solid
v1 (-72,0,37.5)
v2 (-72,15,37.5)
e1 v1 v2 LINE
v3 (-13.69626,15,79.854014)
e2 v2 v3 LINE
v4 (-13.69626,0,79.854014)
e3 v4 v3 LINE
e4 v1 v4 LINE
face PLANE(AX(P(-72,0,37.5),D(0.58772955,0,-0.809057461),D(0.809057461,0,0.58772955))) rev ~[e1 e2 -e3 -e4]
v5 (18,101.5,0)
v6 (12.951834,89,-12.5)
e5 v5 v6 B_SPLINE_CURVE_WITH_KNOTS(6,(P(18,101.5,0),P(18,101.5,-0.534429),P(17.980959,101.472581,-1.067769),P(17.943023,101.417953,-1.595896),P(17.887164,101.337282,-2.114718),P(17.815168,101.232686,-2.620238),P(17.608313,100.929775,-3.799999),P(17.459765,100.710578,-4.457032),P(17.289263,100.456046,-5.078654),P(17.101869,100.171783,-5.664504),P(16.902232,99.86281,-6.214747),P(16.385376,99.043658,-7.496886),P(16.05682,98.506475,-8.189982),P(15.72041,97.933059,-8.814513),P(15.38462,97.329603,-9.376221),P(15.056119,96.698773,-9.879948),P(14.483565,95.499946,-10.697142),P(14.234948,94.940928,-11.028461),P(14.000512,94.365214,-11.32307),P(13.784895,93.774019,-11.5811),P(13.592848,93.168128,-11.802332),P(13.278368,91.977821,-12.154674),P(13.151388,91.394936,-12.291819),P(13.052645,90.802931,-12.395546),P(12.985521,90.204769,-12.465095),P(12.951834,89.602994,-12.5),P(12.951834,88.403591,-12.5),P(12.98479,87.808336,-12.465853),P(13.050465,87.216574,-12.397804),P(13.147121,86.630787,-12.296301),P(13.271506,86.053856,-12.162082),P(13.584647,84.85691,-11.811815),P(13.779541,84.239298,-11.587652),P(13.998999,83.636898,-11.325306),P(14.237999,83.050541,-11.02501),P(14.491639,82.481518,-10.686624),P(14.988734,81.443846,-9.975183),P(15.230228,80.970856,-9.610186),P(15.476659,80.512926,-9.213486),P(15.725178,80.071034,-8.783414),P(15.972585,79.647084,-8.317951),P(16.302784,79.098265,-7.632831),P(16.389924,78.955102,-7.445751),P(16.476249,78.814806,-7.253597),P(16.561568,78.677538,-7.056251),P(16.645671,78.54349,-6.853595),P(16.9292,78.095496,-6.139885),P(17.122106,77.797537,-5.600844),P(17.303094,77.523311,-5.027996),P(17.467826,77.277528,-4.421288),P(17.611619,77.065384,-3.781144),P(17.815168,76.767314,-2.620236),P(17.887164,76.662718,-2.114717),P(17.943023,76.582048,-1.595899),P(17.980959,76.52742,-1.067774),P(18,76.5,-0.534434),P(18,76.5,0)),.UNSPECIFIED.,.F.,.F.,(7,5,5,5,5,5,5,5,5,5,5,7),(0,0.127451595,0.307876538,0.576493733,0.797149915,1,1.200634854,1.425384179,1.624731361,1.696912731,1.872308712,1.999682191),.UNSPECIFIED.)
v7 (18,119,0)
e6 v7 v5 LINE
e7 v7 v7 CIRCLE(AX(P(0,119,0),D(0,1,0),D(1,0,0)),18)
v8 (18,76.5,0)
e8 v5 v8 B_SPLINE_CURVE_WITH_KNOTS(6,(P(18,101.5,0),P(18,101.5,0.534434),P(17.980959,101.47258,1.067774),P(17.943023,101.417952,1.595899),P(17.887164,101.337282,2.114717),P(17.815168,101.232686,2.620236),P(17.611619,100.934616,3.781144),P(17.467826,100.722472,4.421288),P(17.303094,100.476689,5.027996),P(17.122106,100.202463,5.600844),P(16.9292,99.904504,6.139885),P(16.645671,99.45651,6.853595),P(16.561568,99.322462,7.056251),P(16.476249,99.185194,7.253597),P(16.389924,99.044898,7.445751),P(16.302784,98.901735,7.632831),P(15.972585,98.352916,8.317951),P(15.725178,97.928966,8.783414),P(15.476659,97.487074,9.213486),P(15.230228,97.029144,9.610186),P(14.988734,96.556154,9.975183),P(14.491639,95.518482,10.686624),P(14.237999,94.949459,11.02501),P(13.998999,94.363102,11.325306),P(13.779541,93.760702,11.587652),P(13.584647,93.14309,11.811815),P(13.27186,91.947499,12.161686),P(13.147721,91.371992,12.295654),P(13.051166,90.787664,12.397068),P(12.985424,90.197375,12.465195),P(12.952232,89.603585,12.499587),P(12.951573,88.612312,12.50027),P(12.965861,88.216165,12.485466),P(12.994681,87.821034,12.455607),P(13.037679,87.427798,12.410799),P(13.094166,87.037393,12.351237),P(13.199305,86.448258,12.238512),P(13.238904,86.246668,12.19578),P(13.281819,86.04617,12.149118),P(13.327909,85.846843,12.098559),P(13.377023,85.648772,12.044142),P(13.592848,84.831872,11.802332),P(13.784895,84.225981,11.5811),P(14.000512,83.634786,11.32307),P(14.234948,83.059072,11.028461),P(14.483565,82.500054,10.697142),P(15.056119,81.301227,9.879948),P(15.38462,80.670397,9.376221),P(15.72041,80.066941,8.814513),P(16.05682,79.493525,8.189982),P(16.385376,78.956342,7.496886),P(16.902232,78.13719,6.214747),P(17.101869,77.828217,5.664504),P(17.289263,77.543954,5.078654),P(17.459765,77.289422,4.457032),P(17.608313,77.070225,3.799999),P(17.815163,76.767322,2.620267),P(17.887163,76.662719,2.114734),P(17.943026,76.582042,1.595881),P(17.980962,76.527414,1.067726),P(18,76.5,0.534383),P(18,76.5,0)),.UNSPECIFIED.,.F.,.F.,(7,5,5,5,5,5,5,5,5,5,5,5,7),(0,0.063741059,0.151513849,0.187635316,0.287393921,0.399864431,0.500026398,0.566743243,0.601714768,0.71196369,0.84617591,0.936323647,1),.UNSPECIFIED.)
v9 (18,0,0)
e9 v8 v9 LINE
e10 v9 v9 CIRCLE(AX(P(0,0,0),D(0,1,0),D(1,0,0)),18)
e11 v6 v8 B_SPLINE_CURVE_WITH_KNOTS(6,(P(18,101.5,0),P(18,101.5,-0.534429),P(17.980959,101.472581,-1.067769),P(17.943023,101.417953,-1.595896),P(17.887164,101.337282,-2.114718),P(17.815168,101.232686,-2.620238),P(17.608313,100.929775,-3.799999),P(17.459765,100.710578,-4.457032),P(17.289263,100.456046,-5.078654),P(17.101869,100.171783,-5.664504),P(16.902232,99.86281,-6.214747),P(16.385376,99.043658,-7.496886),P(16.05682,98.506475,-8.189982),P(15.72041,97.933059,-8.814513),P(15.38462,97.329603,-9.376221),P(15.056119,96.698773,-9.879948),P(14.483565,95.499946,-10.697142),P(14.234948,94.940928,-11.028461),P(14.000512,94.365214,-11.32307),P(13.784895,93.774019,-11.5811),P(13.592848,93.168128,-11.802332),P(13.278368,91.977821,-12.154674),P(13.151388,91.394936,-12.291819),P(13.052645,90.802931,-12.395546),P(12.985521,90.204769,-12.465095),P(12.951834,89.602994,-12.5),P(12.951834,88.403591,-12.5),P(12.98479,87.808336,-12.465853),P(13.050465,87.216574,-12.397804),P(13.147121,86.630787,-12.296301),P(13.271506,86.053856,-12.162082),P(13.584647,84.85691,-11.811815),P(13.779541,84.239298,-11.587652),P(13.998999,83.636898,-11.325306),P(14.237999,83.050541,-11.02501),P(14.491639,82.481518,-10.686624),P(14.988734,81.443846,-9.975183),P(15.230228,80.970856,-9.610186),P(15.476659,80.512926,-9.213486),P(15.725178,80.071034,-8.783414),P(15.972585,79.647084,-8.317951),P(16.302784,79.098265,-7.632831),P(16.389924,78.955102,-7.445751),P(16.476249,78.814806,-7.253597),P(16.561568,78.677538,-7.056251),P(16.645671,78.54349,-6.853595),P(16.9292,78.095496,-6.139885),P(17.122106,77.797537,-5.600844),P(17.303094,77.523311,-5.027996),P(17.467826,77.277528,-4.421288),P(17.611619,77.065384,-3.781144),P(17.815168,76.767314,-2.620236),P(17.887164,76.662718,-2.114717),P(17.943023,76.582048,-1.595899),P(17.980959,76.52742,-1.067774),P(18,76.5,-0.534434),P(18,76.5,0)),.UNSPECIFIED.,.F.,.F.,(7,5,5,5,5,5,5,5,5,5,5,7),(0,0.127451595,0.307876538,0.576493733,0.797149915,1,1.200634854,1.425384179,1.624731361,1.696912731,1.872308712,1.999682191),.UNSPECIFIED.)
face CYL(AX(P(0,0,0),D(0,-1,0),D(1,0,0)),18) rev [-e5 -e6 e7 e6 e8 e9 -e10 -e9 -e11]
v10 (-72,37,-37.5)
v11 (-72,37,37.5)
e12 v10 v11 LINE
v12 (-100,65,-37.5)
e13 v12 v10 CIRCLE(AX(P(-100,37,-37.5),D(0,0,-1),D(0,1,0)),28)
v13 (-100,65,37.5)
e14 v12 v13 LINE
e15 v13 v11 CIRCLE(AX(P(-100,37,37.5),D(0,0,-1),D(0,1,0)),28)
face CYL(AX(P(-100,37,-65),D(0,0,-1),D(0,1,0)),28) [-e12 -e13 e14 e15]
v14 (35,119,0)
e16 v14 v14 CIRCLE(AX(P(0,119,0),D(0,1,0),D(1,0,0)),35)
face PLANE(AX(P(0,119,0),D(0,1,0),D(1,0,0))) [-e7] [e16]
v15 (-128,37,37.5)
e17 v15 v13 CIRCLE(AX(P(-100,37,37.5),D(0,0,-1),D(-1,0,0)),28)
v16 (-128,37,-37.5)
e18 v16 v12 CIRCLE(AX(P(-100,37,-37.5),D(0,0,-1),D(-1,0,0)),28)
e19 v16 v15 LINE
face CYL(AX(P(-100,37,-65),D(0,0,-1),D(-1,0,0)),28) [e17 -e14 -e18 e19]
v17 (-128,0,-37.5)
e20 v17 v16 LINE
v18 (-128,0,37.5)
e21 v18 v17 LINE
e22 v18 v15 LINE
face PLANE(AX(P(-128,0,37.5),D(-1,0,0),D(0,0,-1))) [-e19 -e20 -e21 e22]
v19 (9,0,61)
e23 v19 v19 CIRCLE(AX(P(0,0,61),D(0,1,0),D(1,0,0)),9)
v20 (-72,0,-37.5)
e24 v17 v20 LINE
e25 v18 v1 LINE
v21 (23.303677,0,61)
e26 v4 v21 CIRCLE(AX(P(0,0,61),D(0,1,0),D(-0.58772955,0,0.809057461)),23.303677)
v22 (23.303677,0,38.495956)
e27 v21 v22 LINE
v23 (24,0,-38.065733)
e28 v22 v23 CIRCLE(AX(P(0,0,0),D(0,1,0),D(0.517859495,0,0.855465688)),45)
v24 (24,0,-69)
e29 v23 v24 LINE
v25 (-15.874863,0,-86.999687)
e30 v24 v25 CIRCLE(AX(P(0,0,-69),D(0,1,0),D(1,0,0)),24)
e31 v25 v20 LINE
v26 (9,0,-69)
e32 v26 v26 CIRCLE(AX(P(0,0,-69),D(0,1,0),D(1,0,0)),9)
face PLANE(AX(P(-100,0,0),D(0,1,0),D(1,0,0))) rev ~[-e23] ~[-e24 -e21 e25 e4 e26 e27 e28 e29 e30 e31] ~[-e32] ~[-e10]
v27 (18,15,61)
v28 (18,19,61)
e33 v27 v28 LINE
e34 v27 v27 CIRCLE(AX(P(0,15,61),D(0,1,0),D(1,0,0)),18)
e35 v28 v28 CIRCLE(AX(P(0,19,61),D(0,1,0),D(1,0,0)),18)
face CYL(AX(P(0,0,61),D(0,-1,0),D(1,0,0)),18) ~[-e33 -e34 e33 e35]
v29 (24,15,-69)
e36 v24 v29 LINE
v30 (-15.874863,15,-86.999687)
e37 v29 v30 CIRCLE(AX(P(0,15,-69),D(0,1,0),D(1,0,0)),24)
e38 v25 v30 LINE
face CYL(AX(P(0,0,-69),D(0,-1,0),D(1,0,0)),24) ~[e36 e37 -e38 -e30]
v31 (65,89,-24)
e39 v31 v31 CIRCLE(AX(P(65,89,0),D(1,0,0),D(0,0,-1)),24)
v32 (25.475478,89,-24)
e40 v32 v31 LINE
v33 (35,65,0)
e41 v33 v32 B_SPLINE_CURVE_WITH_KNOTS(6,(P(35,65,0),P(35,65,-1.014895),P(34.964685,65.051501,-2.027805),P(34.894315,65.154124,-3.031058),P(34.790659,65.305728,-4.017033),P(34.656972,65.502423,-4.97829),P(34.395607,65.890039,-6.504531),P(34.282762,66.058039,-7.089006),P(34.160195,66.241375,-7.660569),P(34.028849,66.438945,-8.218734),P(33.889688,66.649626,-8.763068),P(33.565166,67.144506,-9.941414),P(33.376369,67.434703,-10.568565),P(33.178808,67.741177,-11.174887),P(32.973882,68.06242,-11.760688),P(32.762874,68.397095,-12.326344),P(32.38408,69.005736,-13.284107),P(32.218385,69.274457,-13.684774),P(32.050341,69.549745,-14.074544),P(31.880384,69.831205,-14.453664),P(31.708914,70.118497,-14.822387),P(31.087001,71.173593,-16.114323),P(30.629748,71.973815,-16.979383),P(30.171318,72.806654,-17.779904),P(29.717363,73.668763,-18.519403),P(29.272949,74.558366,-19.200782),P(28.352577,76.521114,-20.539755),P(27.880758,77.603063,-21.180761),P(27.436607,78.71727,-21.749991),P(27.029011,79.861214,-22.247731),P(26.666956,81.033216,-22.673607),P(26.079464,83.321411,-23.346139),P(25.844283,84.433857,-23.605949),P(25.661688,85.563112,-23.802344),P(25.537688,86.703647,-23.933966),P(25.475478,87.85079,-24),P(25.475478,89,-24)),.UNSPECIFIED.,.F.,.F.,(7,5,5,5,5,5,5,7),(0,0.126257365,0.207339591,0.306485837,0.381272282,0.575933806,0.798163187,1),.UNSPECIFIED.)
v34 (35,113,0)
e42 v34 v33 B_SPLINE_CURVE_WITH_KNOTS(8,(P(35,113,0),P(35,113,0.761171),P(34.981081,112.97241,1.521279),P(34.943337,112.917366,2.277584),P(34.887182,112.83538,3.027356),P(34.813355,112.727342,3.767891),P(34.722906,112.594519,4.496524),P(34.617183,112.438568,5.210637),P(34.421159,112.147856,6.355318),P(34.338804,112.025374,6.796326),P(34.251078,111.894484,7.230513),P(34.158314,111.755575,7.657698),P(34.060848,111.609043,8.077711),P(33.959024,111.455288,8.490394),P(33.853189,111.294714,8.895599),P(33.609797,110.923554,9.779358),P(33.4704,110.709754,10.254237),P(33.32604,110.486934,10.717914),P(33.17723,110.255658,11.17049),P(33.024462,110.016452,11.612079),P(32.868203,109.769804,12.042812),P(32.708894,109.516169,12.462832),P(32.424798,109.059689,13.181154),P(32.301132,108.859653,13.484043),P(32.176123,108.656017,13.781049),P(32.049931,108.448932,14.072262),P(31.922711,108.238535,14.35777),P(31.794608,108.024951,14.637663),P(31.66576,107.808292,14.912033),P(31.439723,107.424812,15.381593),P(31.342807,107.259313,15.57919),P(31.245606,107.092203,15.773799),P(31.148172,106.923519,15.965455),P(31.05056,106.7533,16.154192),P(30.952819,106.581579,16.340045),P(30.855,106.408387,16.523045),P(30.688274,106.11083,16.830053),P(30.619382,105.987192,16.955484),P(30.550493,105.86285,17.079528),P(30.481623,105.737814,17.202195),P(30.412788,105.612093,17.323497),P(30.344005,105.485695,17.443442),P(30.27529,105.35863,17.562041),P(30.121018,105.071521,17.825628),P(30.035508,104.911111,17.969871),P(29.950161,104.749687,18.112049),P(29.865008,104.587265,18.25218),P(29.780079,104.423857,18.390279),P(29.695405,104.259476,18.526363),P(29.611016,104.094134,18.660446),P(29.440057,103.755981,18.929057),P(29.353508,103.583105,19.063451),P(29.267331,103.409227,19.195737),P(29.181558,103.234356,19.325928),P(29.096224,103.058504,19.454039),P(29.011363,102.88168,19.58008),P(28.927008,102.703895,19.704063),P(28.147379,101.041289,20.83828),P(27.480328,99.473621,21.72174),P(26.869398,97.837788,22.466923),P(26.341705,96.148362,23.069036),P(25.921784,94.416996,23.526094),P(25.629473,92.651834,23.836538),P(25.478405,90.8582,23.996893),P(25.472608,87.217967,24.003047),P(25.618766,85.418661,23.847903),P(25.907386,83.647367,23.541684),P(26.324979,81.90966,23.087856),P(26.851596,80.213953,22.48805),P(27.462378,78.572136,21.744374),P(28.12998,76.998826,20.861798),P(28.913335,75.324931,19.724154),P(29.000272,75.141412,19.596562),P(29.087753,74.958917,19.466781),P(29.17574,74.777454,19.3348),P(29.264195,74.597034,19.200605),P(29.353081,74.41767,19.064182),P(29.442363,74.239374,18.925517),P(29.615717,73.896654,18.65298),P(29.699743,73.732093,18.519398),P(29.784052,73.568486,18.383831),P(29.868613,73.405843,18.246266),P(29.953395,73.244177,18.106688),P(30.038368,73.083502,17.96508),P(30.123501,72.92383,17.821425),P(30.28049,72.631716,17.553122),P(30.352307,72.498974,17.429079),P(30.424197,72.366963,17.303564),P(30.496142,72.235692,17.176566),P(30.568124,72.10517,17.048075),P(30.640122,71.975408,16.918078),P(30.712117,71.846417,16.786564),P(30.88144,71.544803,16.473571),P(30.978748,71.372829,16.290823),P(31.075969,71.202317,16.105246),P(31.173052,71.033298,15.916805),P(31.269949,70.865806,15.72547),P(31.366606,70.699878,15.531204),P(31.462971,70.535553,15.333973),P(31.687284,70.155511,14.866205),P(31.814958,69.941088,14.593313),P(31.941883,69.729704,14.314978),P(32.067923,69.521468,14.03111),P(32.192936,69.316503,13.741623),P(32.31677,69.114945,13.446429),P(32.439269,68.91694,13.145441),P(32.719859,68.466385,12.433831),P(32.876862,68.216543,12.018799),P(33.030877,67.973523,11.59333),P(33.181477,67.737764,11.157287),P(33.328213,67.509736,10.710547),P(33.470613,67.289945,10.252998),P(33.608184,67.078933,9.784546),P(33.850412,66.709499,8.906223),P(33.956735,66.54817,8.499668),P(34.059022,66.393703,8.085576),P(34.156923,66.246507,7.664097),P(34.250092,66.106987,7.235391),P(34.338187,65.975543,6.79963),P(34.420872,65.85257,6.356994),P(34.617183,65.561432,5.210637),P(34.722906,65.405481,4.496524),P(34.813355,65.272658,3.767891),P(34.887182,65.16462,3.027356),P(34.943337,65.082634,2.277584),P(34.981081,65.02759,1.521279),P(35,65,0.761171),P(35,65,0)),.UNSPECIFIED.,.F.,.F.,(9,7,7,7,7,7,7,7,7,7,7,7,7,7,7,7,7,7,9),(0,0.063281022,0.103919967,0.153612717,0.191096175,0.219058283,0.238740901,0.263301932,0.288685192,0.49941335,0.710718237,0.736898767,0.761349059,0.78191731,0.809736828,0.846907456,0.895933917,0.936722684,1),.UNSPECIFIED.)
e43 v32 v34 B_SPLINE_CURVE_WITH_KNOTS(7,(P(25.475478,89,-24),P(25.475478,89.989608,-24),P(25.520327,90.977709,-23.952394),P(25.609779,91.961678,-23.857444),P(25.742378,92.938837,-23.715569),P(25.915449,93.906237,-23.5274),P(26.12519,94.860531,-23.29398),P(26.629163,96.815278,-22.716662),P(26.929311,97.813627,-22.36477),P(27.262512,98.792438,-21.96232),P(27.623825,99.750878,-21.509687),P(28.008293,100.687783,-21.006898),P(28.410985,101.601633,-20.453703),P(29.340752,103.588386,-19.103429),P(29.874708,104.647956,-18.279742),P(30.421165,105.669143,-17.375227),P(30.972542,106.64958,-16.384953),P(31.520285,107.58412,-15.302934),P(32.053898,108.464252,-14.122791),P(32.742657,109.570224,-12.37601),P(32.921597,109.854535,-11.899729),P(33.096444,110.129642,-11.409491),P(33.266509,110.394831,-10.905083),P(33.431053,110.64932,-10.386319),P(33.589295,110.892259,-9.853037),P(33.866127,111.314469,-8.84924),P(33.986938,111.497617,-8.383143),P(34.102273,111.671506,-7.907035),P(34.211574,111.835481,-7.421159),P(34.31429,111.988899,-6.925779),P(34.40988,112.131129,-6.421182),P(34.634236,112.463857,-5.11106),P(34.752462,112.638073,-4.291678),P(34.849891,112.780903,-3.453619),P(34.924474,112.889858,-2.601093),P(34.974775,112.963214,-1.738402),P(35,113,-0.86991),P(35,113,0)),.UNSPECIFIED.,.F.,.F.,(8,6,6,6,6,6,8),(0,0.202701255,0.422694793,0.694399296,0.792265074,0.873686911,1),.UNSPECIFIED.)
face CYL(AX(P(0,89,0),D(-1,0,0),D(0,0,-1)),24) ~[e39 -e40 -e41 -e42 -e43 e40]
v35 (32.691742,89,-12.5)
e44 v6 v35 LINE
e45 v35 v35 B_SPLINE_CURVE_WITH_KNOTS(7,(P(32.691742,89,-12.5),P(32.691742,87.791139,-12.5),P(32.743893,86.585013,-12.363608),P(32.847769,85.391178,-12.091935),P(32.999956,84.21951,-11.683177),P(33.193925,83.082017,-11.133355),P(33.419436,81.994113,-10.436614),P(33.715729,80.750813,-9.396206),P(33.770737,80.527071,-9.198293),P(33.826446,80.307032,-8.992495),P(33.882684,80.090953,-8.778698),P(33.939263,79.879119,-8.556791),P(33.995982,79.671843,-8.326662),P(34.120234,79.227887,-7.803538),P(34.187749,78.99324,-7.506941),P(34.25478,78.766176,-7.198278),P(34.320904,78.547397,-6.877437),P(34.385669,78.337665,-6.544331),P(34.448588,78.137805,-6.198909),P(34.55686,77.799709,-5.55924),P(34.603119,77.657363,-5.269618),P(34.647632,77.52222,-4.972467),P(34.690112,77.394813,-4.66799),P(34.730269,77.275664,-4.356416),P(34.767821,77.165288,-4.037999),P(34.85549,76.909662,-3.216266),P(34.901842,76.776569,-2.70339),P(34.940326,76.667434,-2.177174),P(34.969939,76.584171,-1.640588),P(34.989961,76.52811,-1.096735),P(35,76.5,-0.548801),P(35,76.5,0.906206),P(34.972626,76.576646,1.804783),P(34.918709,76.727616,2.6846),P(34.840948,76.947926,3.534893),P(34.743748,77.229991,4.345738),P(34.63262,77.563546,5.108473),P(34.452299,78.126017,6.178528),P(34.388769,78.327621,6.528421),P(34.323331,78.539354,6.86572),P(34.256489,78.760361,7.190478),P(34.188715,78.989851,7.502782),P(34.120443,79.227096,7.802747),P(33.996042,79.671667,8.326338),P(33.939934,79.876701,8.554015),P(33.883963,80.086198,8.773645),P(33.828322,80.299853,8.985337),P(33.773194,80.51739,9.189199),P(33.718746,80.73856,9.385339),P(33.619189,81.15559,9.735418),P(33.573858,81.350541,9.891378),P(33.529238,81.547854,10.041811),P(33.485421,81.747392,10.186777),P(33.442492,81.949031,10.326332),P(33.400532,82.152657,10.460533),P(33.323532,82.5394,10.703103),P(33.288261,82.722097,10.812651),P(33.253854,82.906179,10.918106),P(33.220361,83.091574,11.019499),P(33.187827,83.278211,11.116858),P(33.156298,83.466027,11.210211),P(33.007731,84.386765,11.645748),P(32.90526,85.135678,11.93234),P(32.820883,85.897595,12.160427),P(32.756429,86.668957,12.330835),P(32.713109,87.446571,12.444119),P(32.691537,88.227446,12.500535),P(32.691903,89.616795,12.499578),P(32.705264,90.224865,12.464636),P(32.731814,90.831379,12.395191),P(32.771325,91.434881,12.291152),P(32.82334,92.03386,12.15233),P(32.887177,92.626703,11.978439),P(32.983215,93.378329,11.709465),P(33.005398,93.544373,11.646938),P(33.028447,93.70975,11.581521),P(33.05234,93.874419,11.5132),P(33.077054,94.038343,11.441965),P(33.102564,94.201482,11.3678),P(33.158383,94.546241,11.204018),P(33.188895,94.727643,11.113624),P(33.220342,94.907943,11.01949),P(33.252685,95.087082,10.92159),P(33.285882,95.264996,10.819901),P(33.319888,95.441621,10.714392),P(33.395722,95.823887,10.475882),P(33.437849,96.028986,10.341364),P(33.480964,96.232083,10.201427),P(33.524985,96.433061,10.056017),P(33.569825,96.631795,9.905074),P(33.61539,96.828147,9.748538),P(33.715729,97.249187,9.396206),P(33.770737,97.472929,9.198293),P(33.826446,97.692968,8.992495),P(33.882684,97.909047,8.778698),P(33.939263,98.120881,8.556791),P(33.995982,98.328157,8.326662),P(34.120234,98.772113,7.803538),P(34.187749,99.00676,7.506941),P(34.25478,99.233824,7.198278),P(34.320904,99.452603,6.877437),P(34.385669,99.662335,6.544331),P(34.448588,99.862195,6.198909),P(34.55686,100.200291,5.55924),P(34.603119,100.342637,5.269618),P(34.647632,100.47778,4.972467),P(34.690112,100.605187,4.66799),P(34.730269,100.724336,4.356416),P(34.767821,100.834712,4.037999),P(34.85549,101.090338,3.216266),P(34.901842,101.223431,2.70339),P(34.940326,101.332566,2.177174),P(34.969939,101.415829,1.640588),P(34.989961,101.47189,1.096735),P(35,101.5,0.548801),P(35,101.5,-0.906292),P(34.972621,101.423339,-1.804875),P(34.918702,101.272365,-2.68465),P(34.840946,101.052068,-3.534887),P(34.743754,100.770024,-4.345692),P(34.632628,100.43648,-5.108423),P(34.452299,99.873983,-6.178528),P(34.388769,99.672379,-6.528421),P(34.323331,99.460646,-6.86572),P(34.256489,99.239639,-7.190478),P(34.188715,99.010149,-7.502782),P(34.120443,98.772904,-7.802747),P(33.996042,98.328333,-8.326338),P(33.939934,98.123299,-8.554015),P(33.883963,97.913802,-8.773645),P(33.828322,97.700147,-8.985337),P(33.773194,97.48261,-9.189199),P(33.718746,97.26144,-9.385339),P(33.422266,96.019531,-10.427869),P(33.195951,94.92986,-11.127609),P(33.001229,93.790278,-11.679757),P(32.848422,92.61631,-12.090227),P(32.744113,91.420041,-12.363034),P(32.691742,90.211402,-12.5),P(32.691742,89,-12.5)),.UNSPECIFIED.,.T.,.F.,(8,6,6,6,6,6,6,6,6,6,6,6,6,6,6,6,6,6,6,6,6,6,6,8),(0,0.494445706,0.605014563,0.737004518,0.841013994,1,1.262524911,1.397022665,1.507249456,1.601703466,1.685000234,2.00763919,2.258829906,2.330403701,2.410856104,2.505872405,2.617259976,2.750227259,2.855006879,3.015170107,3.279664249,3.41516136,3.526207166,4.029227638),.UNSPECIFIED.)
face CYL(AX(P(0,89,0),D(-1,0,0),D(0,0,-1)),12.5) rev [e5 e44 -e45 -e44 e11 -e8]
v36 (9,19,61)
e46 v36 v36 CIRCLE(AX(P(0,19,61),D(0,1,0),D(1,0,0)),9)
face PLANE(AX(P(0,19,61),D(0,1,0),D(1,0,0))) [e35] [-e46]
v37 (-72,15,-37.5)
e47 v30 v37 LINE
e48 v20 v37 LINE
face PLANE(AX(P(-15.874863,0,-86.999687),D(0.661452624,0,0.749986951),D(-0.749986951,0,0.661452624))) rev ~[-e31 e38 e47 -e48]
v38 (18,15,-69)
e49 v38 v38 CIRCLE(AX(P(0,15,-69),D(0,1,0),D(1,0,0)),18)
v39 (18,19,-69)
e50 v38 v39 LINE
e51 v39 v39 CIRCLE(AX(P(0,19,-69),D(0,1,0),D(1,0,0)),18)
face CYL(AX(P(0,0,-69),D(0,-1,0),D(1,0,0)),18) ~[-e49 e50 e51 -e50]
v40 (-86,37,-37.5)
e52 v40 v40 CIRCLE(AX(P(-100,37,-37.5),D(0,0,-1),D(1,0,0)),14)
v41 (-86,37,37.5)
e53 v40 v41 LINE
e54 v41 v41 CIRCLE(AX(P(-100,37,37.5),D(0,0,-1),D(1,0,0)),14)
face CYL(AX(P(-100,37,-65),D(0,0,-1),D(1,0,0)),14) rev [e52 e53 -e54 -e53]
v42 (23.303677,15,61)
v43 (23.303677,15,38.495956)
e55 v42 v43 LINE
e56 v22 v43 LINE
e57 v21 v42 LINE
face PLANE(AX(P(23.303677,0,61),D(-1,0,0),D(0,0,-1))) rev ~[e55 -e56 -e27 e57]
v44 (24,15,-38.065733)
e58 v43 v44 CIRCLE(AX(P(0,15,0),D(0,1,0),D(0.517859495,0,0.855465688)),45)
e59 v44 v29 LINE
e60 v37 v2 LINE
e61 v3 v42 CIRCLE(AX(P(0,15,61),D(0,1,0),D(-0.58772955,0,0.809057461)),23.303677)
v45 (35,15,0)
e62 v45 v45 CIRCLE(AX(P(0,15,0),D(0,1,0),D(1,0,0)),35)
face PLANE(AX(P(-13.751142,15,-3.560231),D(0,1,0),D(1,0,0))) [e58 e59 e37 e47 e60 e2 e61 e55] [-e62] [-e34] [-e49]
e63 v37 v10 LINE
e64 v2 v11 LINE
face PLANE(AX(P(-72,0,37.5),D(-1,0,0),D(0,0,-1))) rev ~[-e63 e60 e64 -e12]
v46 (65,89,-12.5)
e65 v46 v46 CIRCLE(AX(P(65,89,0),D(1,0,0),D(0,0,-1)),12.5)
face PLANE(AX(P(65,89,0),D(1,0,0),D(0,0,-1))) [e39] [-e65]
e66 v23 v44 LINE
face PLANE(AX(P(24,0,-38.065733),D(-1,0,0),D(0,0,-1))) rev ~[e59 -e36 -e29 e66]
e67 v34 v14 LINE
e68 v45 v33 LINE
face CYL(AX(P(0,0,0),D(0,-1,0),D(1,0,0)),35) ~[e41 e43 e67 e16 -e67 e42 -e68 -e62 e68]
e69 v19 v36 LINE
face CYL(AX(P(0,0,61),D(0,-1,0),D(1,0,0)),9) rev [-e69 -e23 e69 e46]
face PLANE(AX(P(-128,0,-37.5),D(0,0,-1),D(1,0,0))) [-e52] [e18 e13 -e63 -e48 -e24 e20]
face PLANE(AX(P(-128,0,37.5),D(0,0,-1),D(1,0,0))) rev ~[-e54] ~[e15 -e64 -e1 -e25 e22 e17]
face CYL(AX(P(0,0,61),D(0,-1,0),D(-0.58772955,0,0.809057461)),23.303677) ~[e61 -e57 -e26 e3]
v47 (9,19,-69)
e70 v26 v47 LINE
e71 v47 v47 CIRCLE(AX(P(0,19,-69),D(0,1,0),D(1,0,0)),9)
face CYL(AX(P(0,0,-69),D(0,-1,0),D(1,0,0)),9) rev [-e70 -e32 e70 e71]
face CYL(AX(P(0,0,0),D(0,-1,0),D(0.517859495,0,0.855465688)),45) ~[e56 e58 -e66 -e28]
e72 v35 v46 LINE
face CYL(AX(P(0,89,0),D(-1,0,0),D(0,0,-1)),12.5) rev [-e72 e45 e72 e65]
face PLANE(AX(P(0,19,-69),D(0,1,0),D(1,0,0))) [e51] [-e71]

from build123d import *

# Parameters (mm, degrees)
SKETCH1_R               = 18
SKETCH1_R_2             = 35
BOSS_EXTRUDE1_DEPTH     = 15
SKETCH1_3_R             = 35
SKETCH1_3_R_2           = 18
BOSS_EXTRUDE2_DEPTH     = 119
SKETCH1_4_R             = 18
SKETCH1_4_R_2           = 9
BOSS_EXTRUDE3_DEPTH     = 19
SKETCH1_5_W             = 56
SKETCH1_5_H             = 75
BOSS_EXTRUDE4_DEPTH     = 65
CUT_EXTRUDE1_DEPTH      = 198.974745864
CUT_EXTRUDE1_DEPTH_BACK = 65
SKETCH2_R               = 14
SKETCH3_R               = 24
SKETCH3_R_2             = 12.5
BOSS_EXTRUDE5_DEPTH     = 65
SKETCH1_6_R             = 18
CUT_EXTRUDE3_DEPTH      = 263
SKETCH3_3_R             = 12.5
CUT_EXTRUDE4_DEPTH      = 263


with BuildPart() as part:
    # Sketch1 → Boss-Extrude1 (new body)
    with BuildSketch(Plane(origin=(0, 0, 0), x_dir=(1, 0, 0), z_dir=(0, 1, 0))):
        with BuildLine():
            ThreePointArc((23.30367726, -38.495955971), (44.998138968, -0.409254655), (24, 38.065732621))
            Line((24, 38.065732621), (24, 69))
            ThreePointArc((24, 69), (9.874292088, 90.874605271), (-15.87486298, 86.999686813))
            Line((-15.87486298, 86.999686813), (-72, 37.5))
            Line((-72, 37.5), (-72, -37.5))
            Line((-72, -37.5), (-13.696259751, -79.854013967))
            ThreePointArc((-13.696259751, -79.854013967), (10.58036287, -81.76336426), (23.30367726, -61))
            Line((23.30367726, -61), (23.30367726, -38.495955971))
        make_face()
        with Locations((0, -61)):
            Circle(SKETCH1_R, mode=Mode.SUBTRACT)
        Circle(SKETCH1_R_2, mode=Mode.SUBTRACT)
        with Locations((0, 69)):
            Circle(SKETCH1_R, mode=Mode.SUBTRACT)
    extrude(amount=BOSS_EXTRUDE1_DEPTH)

    # Sketch1<3> → Boss-Extrude2 (add)
    with BuildSketch(Plane(origin=(0, 0, 0), x_dir=(1, 0, 0), z_dir=(0, 1, 0))):
        Circle(SKETCH1_3_R)
        Circle(SKETCH1_3_R_2, mode=Mode.SUBTRACT)
    extrude(amount=BOSS_EXTRUDE2_DEPTH)

    # Sketch1<4> → Boss-Extrude3 (add)
    # profile 1 of 2: a face of its own
    with BuildSketch(Plane(origin=(0, 0, 0), x_dir=(1, 0, 0), z_dir=(0, 1, 0))):
        with Locations((0, 69)):
            Circle(SKETCH1_4_R)
        with Locations((0, 69)):
            Circle(SKETCH1_4_R_2, mode=Mode.SUBTRACT)
    # profile 2 of 2: a face of its own
    with BuildSketch(Plane(origin=(0, 0, 0), x_dir=(1, 0, 0), z_dir=(0, 1, 0))):
        with Locations((0, -61)):
            Circle(SKETCH1_4_R)
        with Locations((0, -61)):
            Circle(SKETCH1_4_R_2, mode=Mode.SUBTRACT)
    extrude(amount=BOSS_EXTRUDE3_DEPTH)

    # Sketch1<5> → Boss-Extrude4 (add)
    with BuildSketch(Plane(origin=(0, 0, 0), x_dir=(1, 0, 0), z_dir=(0, 1, 0))):
        with Locations((-100, 0)):
            Rectangle(SKETCH1_5_W, SKETCH1_5_H)
    extrude(amount=BOSS_EXTRUDE4_DEPTH)

    # Sketch2 → Cut-Extrude1 (cut, two sides: drawn at the far end of the back side and taken through both)
    with BuildSketch(Plane.XY.offset(-CUT_EXTRUDE1_DEPTH_BACK)):
        with BuildLine():
            Line((-128, 65), (-128, 37))
            ThreePointArc((-128, 37), (-119.798989873, 56.798989873), (-100, 65))
            Line((-100, 65), (-128, 65))
        make_face()
        with Locations((-100, 37)):
            Circle(SKETCH2_R)
        with BuildLine():
            Line((-72, 65), (-100, 65))
            ThreePointArc((-100, 65), (-80.201010127, 56.798989873), (-72, 37))
            Line((-72, 37), (-72, 65))
        make_face()
    extrude(amount=CUT_EXTRUDE1_DEPTH + CUT_EXTRUDE1_DEPTH_BACK, mode=Mode.SUBTRACT)

    # Sketch3 → Boss-Extrude5 (add)
    with BuildSketch(Plane(origin=(0, 0, 0), x_dir=(0, 0, -1), z_dir=(1, 0, 0))):
        with Locations((0, 89)):
            Circle(SKETCH3_R)
        with Locations((0, 89)):
            Circle(SKETCH3_R_2, mode=Mode.SUBTRACT)
    extrude(amount=BOSS_EXTRUDE5_DEPTH)

    # Sketch1<6> → Cut-Extrude3 (cut)
    with BuildSketch(Plane(origin=(0, 0, 0), x_dir=(1, 0, 0), z_dir=(0, 1, 0))):
        Circle(SKETCH1_6_R)
    extrude(amount=CUT_EXTRUDE3_DEPTH, mode=Mode.SUBTRACT)

    # Sketch3<3> → Cut-Extrude4 (cut)
    with BuildSketch(Plane(origin=(0, 0, 0), x_dir=(0, 0, -1), z_dir=(1, 0, 0))):
        with Locations((0, 89)):
            Circle(SKETCH3_3_R)
    extrude(amount=CUT_EXTRUDE4_DEPTH, mode=Mode.SUBTRACT)


solid = part.part
